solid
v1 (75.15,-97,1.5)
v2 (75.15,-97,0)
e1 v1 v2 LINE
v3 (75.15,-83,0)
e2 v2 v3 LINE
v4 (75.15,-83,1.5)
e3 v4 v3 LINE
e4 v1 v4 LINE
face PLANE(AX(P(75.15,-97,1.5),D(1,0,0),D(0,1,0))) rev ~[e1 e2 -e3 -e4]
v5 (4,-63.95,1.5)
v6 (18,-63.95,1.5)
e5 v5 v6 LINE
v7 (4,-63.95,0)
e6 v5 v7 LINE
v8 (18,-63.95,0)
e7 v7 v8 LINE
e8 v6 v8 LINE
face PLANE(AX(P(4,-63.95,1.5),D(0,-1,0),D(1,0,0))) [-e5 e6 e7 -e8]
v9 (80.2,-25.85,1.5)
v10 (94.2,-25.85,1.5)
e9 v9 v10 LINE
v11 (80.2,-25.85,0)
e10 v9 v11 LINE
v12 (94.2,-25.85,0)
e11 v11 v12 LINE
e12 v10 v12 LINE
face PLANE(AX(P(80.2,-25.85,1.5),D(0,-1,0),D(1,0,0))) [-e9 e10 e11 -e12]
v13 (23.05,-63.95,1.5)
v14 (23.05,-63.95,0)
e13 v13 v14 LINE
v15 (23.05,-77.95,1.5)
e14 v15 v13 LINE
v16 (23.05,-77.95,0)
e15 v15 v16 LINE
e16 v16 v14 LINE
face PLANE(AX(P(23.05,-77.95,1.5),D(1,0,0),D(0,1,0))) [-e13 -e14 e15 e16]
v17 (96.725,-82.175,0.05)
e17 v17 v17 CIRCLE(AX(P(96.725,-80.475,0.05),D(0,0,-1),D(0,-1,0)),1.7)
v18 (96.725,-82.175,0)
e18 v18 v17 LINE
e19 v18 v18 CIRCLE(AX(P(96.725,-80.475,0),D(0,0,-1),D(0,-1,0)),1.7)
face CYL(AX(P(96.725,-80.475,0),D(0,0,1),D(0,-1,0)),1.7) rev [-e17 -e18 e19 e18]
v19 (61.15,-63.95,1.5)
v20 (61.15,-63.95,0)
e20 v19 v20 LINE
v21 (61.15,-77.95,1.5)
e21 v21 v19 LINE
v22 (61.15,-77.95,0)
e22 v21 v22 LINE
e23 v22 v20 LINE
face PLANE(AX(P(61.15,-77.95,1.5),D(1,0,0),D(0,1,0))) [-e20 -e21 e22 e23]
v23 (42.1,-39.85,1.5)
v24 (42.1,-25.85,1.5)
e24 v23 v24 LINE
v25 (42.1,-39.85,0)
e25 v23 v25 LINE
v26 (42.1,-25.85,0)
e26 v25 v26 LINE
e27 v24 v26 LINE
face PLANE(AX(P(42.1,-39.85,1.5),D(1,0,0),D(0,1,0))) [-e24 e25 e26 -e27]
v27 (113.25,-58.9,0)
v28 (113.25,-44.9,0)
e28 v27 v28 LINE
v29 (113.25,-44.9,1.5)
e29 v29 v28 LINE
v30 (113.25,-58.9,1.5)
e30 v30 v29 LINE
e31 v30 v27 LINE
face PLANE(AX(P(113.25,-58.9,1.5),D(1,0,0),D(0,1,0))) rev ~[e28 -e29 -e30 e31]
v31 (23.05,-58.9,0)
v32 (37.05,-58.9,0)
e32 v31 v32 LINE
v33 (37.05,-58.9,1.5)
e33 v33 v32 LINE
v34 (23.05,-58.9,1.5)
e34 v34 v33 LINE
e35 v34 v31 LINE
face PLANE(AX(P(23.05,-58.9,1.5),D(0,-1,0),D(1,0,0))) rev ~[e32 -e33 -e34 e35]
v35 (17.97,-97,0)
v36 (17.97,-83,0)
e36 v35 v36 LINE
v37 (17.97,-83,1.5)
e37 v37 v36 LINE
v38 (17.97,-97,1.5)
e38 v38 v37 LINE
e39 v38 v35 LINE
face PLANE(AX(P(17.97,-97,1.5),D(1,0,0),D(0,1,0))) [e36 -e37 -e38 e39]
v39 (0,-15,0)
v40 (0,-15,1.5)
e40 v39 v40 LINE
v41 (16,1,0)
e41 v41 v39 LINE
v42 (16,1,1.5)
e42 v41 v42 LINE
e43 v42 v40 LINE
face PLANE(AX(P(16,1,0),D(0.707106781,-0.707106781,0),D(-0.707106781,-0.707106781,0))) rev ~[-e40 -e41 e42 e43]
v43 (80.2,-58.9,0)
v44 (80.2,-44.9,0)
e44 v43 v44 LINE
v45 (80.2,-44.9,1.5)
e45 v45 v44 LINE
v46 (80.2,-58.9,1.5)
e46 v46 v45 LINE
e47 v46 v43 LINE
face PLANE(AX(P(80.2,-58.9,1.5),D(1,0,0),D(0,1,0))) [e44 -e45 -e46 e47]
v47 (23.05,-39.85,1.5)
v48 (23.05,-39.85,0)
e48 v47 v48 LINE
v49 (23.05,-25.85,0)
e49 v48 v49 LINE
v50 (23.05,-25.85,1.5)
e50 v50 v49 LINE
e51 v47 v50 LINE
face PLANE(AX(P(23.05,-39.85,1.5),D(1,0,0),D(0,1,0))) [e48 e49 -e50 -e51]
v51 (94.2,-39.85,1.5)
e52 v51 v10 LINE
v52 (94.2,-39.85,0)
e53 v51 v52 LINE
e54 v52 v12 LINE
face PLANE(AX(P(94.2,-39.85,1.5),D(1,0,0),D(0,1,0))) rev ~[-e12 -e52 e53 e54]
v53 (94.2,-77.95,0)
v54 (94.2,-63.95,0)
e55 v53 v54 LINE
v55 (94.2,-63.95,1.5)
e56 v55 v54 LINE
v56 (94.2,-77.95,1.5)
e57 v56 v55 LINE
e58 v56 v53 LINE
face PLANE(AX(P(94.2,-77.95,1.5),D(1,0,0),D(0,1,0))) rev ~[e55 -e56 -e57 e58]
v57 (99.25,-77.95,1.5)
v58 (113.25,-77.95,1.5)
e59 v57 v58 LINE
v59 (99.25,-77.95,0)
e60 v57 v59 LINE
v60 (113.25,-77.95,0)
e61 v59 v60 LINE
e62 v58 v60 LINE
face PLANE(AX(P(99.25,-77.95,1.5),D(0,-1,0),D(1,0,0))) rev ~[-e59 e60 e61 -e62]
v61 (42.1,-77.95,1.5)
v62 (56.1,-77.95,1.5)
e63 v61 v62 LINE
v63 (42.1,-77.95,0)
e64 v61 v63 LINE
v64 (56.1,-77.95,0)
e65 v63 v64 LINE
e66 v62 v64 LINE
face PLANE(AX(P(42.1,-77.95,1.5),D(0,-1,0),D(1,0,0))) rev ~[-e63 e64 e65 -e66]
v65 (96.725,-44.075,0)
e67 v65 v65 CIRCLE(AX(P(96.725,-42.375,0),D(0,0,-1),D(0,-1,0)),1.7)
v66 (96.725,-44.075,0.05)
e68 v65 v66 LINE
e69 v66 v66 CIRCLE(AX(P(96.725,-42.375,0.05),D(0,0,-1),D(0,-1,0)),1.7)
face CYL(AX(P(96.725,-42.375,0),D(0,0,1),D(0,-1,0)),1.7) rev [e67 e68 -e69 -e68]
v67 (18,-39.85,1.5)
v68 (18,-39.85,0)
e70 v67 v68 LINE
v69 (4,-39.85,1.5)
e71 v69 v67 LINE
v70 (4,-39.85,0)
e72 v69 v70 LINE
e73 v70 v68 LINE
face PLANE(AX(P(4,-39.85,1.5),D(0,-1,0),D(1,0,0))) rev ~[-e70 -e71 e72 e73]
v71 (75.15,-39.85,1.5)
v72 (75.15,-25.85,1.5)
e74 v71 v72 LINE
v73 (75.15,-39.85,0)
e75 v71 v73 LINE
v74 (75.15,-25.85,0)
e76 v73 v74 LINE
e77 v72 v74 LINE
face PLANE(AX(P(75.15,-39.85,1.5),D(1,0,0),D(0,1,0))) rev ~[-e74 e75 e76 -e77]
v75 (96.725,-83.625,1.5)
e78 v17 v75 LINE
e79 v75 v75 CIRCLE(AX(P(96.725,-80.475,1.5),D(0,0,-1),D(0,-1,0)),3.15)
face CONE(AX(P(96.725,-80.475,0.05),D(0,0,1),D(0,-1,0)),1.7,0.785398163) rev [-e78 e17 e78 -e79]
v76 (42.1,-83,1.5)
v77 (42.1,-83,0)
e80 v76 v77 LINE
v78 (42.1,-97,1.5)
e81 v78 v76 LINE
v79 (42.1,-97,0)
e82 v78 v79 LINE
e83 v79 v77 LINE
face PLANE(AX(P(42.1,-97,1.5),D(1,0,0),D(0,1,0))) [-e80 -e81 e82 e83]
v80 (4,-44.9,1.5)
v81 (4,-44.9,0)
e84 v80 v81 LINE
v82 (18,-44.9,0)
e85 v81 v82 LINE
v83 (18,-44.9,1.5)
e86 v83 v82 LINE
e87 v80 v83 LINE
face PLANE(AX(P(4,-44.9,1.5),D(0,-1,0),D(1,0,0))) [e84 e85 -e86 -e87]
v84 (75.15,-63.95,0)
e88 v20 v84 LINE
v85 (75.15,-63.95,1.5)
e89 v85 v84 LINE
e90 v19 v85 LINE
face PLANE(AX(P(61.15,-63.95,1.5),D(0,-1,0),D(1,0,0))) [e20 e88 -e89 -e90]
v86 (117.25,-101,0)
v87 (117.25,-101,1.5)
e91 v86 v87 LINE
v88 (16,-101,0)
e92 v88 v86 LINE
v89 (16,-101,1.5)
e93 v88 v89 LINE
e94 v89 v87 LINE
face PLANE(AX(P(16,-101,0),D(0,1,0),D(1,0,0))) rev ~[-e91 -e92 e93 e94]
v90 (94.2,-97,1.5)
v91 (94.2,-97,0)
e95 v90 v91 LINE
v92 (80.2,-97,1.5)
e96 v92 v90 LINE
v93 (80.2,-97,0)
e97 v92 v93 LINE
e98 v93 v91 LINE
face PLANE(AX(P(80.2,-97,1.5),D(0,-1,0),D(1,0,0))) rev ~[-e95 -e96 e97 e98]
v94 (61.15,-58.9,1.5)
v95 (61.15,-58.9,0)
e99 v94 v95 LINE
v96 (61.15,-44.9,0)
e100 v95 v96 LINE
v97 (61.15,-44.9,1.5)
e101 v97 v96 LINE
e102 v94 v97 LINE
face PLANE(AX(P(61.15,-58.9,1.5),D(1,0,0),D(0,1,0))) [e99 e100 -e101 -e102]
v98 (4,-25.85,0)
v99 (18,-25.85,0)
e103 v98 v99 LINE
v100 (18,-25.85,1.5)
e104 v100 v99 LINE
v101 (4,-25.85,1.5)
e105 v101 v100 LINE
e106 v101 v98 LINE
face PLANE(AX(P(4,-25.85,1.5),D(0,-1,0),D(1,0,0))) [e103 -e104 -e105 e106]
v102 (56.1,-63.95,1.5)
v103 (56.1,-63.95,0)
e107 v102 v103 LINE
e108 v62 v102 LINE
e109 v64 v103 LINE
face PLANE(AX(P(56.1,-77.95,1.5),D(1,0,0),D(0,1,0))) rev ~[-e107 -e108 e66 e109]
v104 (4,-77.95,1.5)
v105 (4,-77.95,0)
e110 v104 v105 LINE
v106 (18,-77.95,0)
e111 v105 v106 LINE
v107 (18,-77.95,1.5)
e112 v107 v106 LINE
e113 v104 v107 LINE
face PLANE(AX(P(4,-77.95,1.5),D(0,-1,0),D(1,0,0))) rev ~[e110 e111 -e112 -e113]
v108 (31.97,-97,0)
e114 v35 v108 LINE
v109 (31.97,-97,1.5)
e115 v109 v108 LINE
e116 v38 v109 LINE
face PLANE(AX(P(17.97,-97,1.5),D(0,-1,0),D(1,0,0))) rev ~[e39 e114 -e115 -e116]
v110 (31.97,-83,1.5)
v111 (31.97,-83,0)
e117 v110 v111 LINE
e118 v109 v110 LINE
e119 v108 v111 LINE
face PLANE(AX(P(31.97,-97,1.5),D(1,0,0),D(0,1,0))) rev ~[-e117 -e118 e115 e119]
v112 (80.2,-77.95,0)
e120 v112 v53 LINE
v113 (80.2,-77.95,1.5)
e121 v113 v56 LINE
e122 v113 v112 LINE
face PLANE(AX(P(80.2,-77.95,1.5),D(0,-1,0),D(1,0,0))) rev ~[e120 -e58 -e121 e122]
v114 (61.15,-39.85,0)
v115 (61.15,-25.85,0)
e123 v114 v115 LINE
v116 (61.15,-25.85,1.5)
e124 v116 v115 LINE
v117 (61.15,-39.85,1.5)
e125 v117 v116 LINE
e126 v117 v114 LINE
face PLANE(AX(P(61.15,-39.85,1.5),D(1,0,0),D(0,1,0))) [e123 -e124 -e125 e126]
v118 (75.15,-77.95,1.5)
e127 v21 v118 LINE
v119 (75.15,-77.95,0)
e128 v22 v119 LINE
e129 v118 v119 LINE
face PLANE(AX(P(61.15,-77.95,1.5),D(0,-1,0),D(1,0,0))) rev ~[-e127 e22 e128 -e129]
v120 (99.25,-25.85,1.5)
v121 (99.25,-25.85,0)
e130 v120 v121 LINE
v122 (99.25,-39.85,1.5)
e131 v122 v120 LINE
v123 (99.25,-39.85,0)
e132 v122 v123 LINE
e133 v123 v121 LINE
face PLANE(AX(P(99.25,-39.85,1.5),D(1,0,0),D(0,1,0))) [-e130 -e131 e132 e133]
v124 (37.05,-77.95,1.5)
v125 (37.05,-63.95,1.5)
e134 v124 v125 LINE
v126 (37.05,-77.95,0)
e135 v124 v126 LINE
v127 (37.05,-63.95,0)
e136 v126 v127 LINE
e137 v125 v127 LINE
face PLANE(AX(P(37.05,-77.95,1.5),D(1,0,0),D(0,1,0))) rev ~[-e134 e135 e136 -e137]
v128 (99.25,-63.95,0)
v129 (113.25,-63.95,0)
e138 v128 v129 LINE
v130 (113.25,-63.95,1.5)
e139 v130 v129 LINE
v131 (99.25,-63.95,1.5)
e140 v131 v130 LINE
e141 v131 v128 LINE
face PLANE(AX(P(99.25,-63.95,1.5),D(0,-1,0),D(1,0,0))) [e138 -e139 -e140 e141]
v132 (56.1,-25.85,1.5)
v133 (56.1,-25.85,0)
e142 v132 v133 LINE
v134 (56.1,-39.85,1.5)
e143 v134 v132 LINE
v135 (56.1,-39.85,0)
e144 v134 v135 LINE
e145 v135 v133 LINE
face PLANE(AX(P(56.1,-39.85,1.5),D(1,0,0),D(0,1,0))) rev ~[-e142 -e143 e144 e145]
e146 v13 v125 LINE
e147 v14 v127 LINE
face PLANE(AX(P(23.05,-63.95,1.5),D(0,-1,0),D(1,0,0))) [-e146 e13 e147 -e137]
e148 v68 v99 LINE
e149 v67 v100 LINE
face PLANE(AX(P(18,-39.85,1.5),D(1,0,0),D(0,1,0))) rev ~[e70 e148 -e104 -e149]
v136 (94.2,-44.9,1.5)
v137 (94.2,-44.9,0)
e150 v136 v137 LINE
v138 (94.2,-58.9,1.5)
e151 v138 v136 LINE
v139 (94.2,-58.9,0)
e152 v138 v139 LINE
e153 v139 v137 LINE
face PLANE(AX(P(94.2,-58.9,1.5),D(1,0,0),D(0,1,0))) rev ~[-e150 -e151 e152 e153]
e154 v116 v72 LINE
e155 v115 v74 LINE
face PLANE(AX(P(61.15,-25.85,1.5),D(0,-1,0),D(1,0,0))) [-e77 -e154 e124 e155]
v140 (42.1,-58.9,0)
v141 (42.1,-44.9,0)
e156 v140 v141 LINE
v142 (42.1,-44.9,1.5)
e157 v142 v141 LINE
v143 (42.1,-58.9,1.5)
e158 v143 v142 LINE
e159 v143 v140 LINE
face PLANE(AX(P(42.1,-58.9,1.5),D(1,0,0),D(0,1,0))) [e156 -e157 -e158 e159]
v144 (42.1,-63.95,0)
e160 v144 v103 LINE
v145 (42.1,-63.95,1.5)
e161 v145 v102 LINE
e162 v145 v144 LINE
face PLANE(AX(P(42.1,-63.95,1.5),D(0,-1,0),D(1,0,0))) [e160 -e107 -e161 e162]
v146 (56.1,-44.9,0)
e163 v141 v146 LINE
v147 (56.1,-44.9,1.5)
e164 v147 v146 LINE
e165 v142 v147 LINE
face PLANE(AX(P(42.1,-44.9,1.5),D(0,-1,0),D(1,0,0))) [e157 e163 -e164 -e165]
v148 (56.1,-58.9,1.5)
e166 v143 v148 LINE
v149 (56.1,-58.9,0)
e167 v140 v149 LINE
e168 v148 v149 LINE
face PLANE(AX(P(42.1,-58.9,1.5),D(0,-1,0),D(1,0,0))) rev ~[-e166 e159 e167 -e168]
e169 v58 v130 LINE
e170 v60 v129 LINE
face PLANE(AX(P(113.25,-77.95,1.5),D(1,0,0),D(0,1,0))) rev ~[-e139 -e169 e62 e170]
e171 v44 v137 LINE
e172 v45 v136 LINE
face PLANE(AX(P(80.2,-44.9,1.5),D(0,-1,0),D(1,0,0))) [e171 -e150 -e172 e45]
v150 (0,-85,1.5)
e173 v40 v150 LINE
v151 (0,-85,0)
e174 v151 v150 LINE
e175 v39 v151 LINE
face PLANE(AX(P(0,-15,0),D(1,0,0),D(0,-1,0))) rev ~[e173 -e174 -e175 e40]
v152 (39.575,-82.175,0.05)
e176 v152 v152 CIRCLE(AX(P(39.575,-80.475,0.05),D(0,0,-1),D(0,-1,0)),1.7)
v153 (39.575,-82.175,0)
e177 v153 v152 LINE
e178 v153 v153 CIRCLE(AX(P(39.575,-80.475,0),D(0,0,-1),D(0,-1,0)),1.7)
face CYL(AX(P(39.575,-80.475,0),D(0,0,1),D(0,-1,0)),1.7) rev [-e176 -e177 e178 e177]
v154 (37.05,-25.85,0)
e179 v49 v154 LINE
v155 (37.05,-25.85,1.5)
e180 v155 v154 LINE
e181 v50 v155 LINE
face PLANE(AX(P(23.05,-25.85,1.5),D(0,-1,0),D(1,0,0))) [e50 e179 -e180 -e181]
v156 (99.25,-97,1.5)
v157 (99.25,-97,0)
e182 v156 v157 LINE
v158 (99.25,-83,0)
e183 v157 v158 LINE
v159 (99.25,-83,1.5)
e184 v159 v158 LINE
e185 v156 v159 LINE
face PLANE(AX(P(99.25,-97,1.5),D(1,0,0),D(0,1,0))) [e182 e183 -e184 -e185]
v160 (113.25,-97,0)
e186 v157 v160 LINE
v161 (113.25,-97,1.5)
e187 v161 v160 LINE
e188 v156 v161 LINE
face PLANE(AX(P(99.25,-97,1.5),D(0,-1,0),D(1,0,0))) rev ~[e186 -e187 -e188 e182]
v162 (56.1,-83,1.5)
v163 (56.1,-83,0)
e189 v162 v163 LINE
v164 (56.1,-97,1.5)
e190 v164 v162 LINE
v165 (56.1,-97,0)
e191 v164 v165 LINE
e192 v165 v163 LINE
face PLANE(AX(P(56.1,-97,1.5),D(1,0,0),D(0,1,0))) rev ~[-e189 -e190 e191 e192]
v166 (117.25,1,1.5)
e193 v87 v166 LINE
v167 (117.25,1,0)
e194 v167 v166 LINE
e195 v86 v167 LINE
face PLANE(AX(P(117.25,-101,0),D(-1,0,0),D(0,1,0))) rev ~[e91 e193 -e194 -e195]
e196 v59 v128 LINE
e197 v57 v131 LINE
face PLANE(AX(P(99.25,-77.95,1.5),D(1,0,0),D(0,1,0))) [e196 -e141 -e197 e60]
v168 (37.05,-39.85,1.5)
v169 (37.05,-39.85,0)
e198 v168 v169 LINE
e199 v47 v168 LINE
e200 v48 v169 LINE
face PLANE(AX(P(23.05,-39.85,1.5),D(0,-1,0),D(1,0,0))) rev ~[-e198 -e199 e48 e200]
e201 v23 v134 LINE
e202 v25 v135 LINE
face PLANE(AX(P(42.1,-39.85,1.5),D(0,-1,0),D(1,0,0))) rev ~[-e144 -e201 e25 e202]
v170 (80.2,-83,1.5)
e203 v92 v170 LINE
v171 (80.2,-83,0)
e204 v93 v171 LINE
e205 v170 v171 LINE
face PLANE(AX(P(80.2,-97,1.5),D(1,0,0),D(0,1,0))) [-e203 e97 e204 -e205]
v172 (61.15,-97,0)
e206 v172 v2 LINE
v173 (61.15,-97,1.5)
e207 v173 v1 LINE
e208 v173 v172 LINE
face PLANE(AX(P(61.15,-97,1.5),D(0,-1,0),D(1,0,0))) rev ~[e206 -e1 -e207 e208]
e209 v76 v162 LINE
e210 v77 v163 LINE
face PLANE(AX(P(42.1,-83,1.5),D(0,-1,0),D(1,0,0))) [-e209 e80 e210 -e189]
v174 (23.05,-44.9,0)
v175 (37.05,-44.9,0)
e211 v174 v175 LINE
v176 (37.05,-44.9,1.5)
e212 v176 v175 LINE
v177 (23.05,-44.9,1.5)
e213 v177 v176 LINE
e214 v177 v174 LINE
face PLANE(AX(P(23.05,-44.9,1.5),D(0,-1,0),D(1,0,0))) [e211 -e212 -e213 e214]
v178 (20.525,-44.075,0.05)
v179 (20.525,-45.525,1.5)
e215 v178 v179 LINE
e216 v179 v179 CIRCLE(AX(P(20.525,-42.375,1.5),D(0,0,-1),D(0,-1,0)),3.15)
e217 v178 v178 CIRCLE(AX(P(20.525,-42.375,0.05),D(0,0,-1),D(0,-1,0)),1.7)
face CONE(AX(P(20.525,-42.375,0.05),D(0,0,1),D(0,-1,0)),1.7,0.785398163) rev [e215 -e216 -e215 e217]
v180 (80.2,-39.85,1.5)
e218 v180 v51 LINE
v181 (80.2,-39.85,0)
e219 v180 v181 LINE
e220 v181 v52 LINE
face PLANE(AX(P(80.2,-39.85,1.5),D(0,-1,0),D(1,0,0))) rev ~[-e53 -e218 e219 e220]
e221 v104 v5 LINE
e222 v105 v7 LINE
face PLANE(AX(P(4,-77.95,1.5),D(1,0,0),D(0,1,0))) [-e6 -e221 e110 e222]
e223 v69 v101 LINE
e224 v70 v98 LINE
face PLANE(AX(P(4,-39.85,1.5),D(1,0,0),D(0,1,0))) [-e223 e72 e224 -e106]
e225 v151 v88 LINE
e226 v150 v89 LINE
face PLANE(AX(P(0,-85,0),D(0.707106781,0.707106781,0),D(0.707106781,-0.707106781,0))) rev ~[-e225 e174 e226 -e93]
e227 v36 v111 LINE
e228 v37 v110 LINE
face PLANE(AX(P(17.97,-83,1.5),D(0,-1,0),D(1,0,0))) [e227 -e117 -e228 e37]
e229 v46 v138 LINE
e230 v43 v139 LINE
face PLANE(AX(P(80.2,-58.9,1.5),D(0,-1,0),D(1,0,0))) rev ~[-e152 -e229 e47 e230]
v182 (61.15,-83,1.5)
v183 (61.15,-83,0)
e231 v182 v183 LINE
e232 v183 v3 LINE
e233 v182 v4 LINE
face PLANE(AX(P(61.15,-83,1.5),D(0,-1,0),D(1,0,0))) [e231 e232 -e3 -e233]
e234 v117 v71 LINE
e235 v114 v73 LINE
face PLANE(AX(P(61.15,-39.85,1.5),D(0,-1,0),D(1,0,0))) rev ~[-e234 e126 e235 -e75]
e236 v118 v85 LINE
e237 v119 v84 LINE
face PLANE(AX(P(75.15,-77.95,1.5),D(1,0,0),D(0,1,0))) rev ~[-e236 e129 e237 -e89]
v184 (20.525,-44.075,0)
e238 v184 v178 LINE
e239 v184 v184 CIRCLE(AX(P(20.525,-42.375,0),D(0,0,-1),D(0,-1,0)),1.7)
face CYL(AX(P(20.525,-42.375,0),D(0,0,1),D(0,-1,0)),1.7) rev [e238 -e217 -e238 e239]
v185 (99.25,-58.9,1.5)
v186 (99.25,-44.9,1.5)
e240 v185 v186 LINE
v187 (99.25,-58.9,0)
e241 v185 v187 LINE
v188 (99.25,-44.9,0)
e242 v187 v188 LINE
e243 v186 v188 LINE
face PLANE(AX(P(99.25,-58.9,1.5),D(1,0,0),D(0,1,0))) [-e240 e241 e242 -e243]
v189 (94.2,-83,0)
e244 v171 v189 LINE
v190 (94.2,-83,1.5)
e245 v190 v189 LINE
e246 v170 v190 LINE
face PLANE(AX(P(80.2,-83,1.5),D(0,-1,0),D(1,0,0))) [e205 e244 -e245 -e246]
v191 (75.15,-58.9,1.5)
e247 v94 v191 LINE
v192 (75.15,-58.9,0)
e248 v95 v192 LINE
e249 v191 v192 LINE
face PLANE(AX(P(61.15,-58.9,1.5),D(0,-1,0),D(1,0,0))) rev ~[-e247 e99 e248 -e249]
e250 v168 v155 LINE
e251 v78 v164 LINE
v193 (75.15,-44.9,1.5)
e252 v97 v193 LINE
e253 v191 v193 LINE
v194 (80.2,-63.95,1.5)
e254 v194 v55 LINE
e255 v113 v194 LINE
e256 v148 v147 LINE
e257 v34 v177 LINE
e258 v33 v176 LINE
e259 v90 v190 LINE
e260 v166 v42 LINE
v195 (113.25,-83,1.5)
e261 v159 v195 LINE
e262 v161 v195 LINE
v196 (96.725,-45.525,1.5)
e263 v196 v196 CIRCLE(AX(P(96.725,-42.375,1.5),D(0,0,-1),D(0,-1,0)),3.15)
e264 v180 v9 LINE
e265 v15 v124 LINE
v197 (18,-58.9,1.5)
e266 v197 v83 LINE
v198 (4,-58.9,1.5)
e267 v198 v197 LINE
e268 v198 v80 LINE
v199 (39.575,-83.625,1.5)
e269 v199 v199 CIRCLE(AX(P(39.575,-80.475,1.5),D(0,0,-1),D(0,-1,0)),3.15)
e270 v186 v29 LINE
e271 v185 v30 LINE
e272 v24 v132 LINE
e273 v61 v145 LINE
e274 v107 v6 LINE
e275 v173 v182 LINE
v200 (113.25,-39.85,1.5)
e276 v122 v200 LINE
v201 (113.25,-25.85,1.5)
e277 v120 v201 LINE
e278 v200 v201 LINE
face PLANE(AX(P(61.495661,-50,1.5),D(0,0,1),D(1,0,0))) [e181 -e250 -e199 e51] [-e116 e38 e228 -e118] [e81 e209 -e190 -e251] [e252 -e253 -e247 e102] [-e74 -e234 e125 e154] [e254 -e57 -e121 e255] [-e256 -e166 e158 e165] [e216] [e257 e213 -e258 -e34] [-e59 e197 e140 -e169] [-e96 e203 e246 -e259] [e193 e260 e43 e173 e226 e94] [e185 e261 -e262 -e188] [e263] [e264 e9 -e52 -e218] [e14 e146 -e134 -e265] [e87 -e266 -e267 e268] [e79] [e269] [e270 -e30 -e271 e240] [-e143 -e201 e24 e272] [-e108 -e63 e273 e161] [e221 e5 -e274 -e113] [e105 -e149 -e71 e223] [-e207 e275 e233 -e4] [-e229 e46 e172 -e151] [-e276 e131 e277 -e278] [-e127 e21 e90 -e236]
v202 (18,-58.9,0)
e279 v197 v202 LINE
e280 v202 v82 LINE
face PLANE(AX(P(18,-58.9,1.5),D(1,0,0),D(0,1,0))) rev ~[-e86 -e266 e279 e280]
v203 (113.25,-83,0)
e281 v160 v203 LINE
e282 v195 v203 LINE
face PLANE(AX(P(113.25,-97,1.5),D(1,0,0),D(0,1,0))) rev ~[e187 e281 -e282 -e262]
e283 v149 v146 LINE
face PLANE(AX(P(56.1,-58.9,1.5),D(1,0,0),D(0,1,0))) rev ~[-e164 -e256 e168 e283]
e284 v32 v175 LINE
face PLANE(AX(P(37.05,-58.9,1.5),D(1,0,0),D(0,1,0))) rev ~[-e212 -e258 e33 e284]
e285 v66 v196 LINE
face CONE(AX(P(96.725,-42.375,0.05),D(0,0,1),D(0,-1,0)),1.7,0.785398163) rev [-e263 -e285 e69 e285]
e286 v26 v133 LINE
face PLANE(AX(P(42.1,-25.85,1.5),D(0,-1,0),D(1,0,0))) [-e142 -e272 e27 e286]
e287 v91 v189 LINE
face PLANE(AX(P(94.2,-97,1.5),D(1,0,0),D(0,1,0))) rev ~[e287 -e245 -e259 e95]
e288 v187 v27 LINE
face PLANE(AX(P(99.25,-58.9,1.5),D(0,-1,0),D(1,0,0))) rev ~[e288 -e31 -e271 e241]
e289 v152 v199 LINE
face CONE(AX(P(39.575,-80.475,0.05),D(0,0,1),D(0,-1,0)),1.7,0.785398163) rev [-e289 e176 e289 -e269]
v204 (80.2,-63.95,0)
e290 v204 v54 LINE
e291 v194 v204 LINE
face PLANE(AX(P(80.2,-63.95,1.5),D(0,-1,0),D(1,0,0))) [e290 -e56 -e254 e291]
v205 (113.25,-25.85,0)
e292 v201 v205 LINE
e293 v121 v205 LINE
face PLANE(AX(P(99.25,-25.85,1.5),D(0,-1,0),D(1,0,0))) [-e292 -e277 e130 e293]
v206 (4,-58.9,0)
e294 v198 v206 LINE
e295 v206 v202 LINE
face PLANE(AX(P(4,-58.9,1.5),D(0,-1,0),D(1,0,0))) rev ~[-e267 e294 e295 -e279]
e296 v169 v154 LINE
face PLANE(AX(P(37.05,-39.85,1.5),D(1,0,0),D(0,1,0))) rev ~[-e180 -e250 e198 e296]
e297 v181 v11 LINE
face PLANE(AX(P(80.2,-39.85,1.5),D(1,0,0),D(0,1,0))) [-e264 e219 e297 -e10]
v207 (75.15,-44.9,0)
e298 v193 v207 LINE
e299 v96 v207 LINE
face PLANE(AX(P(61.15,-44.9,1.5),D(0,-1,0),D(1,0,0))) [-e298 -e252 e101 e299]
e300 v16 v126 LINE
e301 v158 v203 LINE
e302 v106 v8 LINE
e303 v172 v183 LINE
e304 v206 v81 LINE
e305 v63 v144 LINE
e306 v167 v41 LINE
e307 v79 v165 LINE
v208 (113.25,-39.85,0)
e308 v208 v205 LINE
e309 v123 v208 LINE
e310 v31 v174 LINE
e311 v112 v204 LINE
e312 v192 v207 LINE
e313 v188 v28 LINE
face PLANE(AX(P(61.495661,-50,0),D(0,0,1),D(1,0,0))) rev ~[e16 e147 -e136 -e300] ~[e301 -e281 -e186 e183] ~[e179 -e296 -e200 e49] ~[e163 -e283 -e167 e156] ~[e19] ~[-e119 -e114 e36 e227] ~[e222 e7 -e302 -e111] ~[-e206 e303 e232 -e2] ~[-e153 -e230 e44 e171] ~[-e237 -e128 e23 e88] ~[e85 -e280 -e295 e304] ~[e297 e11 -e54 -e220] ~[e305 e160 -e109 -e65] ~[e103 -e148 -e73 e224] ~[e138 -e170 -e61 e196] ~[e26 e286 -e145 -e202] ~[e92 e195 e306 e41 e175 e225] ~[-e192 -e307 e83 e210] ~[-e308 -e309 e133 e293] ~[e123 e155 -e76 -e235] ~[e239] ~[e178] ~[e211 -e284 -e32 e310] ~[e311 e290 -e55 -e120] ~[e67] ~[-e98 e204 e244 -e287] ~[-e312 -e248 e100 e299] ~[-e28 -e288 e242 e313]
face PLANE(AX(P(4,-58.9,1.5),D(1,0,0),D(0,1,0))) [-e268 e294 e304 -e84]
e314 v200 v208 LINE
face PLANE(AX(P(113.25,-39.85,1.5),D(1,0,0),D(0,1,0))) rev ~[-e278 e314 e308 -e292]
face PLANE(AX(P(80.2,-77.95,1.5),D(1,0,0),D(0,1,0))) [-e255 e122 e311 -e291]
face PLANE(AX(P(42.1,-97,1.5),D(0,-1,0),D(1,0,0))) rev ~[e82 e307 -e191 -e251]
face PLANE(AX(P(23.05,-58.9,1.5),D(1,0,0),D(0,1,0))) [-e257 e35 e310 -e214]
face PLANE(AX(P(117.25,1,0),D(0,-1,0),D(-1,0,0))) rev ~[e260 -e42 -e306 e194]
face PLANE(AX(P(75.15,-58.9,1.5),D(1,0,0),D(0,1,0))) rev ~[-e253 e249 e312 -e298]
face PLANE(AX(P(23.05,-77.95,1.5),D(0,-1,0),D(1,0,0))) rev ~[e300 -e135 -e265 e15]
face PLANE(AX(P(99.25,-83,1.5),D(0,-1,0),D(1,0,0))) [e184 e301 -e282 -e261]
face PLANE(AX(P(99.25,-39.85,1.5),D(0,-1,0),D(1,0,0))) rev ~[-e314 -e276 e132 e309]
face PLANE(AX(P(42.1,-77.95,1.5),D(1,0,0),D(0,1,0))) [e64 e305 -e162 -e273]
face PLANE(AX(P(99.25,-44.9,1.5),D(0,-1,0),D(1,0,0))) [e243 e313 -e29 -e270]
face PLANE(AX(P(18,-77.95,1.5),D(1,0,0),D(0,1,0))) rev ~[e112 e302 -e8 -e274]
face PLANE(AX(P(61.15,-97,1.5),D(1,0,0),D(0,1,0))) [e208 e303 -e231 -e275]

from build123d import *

# Parameters (mm, degrees)
BOSS_EXTRU_1_DEPTH                          = 1.5
ESQUISSE2_W                                 = 14
ESQUISSE2_H                                 = 14
ENL_V_MAT_EXTRU_1_DEPTH                     = 1.5
FRAISAGE_POUR_VIS_T_TE_FRAIS_E_M31_AT_COUNT = 2
FRAISAGE_POUR_VIS_T_TE_FRAIS_E_M31_AT_PITCH = 76.2
FRAISAGE_POUR_VIS_T_TE_FRAIS_E_M31_2_COUNT  = 2
FRAISAGE_POUR_VIS_T_TE_FRAIS_E_M31_2_PITCH  = 85.194189943
FRAISAGE_POUR_VIS_T_TE_FRAIS_E_M31_3_COUNT  = 2
FRAISAGE_POUR_VIS_T_TE_FRAIS_E_M31_3_PITCH  = 42.597094971


with BuildPart() as part:
    # Esquisse1 → Boss.-Extru.1 (new body)
    with BuildSketch(Plane.XY):
        Polygon((0, -85), (16, -101), (117.25, -101), (117.25, 1), (16, 1), (0, -15), align=None)
    extrude(amount=BOSS_EXTRU_1_DEPTH)

    # Esquisse2 → Enlèv. mat.-Extru.1 (cut)
    with BuildSketch(Plane.XY.offset(1.5)):
        with Locations((11, -32.85)):
            Rectangle(ESQUISSE2_W, ESQUISSE2_H)
        with Locations((30.05, -32.85)):
            Rectangle(ESQUISSE2_W, ESQUISSE2_H)
        with Locations((49.1, -32.85)):
            Rectangle(ESQUISSE2_W, ESQUISSE2_H)
        with Locations((68.15, -32.85)):
            Rectangle(ESQUISSE2_W, ESQUISSE2_H)
        with Locations((87.2, -32.85)):
            Rectangle(ESQUISSE2_W, ESQUISSE2_H)
        with Locations((106.25, -32.85)):
            Rectangle(ESQUISSE2_W, ESQUISSE2_H)
        with Locations((30.05, -51.9)):
            Rectangle(ESQUISSE2_W, ESQUISSE2_H)
        with Locations((49.1, -51.9)):
            Rectangle(ESQUISSE2_W, ESQUISSE2_H)
        with Locations((68.15, -51.9)):
            Rectangle(ESQUISSE2_W, ESQUISSE2_H)
        with Locations((87.2, -51.9)):
            Rectangle(ESQUISSE2_W, ESQUISSE2_H)
        with Locations((106.25, -51.9)):
            Rectangle(ESQUISSE2_W, ESQUISSE2_H)
        with Locations((30.05, -70.95)):
            Rectangle(ESQUISSE2_W, ESQUISSE2_H)
        with Locations((49.1, -70.95)):
            Rectangle(ESQUISSE2_W, ESQUISSE2_H)
        with Locations((68.15, -70.95)):
            Rectangle(ESQUISSE2_W, ESQUISSE2_H)
        with Locations((87.2, -70.95)):
            Rectangle(ESQUISSE2_W, ESQUISSE2_H)
        with Locations((106.25, -70.95)):
            Rectangle(ESQUISSE2_W, ESQUISSE2_H)
        with Locations((11, -51.9)):
            Rectangle(ESQUISSE2_W, ESQUISSE2_H)
        with Locations((11, -70.95)):
            Rectangle(ESQUISSE2_W, ESQUISSE2_H)
        with Locations((49.1, -90)):
            Rectangle(ESQUISSE2_W, ESQUISSE2_H)
        with Locations((68.15, -90)):
            Rectangle(ESQUISSE2_W, ESQUISSE2_H)
        with Locations((87.2, -90)):
            Rectangle(ESQUISSE2_W, ESQUISSE2_H)
        with Locations((106.25, -90)):
            Rectangle(ESQUISSE2_W, ESQUISSE2_H)
        with Locations((24.97, -90)):
            Rectangle(ESQUISSE2_W, ESQUISSE2_H)
    extrude(amount=-ENL_V_MAT_EXTRU_1_DEPTH, mode=Mode.SUBTRACT)

    # Esquisse18 → Fraisage pour vis à tête fraisée M31 (revolve, cut)
    with BuildSketch(Plane(origin=(20.525, -42.375, 1.5), x_dir=(0, -1, 0), z_dir=(1, 0, 0))):
        Polygon((0, 0), (0, 1.5), (1.7, 1.5), (1.7, 1.45), (3.15, 0), align=None)
    fraisage_pour_vis_t_te_frais_e_m31 = revolve(axis=Axis((20.525, -42.375, 7.85), (0, 0, -1)), mode=Mode.SUBTRACT)

    # Fraisage pour vis à tête fraisée M31 at: Fraisage pour vis à tête fraisée M31 ×2
    with Locations(*[(i * FRAISAGE_POUR_VIS_T_TE_FRAIS_E_M31_AT_PITCH, 0, 0) for i in range(1, FRAISAGE_POUR_VIS_T_TE_FRAIS_E_M31_AT_COUNT)]):
        add(fraisage_pour_vis_t_te_frais_e_m31, mode=Mode.SUBTRACT)

    # Fraisage pour vis _ t_te frais_e M31 2: Fraisage pour vis à tête fraisée M31 ×2
    with Locations(*[Vector(0.894427191, -0.447213595, 0) * (i * FRAISAGE_POUR_VIS_T_TE_FRAIS_E_M31_2_PITCH) for i in range(1, FRAISAGE_POUR_VIS_T_TE_FRAIS_E_M31_2_COUNT)]):
        add(fraisage_pour_vis_t_te_frais_e_m31, mode=Mode.SUBTRACT)

    # Fraisage pour vis _ t_te frais_e M31 3: Fraisage pour vis à tête fraisée M31 ×2
    with Locations(*[Vector(0.447213596, -0.894427191, 0) * (i * FRAISAGE_POUR_VIS_T_TE_FRAIS_E_M31_3_PITCH) for i in range(1, FRAISAGE_POUR_VIS_T_TE_FRAIS_E_M31_3_COUNT)]):
        add(fraisage_pour_vis_t_te_frais_e_m31, mode=Mode.SUBTRACT)


solid = part.part
